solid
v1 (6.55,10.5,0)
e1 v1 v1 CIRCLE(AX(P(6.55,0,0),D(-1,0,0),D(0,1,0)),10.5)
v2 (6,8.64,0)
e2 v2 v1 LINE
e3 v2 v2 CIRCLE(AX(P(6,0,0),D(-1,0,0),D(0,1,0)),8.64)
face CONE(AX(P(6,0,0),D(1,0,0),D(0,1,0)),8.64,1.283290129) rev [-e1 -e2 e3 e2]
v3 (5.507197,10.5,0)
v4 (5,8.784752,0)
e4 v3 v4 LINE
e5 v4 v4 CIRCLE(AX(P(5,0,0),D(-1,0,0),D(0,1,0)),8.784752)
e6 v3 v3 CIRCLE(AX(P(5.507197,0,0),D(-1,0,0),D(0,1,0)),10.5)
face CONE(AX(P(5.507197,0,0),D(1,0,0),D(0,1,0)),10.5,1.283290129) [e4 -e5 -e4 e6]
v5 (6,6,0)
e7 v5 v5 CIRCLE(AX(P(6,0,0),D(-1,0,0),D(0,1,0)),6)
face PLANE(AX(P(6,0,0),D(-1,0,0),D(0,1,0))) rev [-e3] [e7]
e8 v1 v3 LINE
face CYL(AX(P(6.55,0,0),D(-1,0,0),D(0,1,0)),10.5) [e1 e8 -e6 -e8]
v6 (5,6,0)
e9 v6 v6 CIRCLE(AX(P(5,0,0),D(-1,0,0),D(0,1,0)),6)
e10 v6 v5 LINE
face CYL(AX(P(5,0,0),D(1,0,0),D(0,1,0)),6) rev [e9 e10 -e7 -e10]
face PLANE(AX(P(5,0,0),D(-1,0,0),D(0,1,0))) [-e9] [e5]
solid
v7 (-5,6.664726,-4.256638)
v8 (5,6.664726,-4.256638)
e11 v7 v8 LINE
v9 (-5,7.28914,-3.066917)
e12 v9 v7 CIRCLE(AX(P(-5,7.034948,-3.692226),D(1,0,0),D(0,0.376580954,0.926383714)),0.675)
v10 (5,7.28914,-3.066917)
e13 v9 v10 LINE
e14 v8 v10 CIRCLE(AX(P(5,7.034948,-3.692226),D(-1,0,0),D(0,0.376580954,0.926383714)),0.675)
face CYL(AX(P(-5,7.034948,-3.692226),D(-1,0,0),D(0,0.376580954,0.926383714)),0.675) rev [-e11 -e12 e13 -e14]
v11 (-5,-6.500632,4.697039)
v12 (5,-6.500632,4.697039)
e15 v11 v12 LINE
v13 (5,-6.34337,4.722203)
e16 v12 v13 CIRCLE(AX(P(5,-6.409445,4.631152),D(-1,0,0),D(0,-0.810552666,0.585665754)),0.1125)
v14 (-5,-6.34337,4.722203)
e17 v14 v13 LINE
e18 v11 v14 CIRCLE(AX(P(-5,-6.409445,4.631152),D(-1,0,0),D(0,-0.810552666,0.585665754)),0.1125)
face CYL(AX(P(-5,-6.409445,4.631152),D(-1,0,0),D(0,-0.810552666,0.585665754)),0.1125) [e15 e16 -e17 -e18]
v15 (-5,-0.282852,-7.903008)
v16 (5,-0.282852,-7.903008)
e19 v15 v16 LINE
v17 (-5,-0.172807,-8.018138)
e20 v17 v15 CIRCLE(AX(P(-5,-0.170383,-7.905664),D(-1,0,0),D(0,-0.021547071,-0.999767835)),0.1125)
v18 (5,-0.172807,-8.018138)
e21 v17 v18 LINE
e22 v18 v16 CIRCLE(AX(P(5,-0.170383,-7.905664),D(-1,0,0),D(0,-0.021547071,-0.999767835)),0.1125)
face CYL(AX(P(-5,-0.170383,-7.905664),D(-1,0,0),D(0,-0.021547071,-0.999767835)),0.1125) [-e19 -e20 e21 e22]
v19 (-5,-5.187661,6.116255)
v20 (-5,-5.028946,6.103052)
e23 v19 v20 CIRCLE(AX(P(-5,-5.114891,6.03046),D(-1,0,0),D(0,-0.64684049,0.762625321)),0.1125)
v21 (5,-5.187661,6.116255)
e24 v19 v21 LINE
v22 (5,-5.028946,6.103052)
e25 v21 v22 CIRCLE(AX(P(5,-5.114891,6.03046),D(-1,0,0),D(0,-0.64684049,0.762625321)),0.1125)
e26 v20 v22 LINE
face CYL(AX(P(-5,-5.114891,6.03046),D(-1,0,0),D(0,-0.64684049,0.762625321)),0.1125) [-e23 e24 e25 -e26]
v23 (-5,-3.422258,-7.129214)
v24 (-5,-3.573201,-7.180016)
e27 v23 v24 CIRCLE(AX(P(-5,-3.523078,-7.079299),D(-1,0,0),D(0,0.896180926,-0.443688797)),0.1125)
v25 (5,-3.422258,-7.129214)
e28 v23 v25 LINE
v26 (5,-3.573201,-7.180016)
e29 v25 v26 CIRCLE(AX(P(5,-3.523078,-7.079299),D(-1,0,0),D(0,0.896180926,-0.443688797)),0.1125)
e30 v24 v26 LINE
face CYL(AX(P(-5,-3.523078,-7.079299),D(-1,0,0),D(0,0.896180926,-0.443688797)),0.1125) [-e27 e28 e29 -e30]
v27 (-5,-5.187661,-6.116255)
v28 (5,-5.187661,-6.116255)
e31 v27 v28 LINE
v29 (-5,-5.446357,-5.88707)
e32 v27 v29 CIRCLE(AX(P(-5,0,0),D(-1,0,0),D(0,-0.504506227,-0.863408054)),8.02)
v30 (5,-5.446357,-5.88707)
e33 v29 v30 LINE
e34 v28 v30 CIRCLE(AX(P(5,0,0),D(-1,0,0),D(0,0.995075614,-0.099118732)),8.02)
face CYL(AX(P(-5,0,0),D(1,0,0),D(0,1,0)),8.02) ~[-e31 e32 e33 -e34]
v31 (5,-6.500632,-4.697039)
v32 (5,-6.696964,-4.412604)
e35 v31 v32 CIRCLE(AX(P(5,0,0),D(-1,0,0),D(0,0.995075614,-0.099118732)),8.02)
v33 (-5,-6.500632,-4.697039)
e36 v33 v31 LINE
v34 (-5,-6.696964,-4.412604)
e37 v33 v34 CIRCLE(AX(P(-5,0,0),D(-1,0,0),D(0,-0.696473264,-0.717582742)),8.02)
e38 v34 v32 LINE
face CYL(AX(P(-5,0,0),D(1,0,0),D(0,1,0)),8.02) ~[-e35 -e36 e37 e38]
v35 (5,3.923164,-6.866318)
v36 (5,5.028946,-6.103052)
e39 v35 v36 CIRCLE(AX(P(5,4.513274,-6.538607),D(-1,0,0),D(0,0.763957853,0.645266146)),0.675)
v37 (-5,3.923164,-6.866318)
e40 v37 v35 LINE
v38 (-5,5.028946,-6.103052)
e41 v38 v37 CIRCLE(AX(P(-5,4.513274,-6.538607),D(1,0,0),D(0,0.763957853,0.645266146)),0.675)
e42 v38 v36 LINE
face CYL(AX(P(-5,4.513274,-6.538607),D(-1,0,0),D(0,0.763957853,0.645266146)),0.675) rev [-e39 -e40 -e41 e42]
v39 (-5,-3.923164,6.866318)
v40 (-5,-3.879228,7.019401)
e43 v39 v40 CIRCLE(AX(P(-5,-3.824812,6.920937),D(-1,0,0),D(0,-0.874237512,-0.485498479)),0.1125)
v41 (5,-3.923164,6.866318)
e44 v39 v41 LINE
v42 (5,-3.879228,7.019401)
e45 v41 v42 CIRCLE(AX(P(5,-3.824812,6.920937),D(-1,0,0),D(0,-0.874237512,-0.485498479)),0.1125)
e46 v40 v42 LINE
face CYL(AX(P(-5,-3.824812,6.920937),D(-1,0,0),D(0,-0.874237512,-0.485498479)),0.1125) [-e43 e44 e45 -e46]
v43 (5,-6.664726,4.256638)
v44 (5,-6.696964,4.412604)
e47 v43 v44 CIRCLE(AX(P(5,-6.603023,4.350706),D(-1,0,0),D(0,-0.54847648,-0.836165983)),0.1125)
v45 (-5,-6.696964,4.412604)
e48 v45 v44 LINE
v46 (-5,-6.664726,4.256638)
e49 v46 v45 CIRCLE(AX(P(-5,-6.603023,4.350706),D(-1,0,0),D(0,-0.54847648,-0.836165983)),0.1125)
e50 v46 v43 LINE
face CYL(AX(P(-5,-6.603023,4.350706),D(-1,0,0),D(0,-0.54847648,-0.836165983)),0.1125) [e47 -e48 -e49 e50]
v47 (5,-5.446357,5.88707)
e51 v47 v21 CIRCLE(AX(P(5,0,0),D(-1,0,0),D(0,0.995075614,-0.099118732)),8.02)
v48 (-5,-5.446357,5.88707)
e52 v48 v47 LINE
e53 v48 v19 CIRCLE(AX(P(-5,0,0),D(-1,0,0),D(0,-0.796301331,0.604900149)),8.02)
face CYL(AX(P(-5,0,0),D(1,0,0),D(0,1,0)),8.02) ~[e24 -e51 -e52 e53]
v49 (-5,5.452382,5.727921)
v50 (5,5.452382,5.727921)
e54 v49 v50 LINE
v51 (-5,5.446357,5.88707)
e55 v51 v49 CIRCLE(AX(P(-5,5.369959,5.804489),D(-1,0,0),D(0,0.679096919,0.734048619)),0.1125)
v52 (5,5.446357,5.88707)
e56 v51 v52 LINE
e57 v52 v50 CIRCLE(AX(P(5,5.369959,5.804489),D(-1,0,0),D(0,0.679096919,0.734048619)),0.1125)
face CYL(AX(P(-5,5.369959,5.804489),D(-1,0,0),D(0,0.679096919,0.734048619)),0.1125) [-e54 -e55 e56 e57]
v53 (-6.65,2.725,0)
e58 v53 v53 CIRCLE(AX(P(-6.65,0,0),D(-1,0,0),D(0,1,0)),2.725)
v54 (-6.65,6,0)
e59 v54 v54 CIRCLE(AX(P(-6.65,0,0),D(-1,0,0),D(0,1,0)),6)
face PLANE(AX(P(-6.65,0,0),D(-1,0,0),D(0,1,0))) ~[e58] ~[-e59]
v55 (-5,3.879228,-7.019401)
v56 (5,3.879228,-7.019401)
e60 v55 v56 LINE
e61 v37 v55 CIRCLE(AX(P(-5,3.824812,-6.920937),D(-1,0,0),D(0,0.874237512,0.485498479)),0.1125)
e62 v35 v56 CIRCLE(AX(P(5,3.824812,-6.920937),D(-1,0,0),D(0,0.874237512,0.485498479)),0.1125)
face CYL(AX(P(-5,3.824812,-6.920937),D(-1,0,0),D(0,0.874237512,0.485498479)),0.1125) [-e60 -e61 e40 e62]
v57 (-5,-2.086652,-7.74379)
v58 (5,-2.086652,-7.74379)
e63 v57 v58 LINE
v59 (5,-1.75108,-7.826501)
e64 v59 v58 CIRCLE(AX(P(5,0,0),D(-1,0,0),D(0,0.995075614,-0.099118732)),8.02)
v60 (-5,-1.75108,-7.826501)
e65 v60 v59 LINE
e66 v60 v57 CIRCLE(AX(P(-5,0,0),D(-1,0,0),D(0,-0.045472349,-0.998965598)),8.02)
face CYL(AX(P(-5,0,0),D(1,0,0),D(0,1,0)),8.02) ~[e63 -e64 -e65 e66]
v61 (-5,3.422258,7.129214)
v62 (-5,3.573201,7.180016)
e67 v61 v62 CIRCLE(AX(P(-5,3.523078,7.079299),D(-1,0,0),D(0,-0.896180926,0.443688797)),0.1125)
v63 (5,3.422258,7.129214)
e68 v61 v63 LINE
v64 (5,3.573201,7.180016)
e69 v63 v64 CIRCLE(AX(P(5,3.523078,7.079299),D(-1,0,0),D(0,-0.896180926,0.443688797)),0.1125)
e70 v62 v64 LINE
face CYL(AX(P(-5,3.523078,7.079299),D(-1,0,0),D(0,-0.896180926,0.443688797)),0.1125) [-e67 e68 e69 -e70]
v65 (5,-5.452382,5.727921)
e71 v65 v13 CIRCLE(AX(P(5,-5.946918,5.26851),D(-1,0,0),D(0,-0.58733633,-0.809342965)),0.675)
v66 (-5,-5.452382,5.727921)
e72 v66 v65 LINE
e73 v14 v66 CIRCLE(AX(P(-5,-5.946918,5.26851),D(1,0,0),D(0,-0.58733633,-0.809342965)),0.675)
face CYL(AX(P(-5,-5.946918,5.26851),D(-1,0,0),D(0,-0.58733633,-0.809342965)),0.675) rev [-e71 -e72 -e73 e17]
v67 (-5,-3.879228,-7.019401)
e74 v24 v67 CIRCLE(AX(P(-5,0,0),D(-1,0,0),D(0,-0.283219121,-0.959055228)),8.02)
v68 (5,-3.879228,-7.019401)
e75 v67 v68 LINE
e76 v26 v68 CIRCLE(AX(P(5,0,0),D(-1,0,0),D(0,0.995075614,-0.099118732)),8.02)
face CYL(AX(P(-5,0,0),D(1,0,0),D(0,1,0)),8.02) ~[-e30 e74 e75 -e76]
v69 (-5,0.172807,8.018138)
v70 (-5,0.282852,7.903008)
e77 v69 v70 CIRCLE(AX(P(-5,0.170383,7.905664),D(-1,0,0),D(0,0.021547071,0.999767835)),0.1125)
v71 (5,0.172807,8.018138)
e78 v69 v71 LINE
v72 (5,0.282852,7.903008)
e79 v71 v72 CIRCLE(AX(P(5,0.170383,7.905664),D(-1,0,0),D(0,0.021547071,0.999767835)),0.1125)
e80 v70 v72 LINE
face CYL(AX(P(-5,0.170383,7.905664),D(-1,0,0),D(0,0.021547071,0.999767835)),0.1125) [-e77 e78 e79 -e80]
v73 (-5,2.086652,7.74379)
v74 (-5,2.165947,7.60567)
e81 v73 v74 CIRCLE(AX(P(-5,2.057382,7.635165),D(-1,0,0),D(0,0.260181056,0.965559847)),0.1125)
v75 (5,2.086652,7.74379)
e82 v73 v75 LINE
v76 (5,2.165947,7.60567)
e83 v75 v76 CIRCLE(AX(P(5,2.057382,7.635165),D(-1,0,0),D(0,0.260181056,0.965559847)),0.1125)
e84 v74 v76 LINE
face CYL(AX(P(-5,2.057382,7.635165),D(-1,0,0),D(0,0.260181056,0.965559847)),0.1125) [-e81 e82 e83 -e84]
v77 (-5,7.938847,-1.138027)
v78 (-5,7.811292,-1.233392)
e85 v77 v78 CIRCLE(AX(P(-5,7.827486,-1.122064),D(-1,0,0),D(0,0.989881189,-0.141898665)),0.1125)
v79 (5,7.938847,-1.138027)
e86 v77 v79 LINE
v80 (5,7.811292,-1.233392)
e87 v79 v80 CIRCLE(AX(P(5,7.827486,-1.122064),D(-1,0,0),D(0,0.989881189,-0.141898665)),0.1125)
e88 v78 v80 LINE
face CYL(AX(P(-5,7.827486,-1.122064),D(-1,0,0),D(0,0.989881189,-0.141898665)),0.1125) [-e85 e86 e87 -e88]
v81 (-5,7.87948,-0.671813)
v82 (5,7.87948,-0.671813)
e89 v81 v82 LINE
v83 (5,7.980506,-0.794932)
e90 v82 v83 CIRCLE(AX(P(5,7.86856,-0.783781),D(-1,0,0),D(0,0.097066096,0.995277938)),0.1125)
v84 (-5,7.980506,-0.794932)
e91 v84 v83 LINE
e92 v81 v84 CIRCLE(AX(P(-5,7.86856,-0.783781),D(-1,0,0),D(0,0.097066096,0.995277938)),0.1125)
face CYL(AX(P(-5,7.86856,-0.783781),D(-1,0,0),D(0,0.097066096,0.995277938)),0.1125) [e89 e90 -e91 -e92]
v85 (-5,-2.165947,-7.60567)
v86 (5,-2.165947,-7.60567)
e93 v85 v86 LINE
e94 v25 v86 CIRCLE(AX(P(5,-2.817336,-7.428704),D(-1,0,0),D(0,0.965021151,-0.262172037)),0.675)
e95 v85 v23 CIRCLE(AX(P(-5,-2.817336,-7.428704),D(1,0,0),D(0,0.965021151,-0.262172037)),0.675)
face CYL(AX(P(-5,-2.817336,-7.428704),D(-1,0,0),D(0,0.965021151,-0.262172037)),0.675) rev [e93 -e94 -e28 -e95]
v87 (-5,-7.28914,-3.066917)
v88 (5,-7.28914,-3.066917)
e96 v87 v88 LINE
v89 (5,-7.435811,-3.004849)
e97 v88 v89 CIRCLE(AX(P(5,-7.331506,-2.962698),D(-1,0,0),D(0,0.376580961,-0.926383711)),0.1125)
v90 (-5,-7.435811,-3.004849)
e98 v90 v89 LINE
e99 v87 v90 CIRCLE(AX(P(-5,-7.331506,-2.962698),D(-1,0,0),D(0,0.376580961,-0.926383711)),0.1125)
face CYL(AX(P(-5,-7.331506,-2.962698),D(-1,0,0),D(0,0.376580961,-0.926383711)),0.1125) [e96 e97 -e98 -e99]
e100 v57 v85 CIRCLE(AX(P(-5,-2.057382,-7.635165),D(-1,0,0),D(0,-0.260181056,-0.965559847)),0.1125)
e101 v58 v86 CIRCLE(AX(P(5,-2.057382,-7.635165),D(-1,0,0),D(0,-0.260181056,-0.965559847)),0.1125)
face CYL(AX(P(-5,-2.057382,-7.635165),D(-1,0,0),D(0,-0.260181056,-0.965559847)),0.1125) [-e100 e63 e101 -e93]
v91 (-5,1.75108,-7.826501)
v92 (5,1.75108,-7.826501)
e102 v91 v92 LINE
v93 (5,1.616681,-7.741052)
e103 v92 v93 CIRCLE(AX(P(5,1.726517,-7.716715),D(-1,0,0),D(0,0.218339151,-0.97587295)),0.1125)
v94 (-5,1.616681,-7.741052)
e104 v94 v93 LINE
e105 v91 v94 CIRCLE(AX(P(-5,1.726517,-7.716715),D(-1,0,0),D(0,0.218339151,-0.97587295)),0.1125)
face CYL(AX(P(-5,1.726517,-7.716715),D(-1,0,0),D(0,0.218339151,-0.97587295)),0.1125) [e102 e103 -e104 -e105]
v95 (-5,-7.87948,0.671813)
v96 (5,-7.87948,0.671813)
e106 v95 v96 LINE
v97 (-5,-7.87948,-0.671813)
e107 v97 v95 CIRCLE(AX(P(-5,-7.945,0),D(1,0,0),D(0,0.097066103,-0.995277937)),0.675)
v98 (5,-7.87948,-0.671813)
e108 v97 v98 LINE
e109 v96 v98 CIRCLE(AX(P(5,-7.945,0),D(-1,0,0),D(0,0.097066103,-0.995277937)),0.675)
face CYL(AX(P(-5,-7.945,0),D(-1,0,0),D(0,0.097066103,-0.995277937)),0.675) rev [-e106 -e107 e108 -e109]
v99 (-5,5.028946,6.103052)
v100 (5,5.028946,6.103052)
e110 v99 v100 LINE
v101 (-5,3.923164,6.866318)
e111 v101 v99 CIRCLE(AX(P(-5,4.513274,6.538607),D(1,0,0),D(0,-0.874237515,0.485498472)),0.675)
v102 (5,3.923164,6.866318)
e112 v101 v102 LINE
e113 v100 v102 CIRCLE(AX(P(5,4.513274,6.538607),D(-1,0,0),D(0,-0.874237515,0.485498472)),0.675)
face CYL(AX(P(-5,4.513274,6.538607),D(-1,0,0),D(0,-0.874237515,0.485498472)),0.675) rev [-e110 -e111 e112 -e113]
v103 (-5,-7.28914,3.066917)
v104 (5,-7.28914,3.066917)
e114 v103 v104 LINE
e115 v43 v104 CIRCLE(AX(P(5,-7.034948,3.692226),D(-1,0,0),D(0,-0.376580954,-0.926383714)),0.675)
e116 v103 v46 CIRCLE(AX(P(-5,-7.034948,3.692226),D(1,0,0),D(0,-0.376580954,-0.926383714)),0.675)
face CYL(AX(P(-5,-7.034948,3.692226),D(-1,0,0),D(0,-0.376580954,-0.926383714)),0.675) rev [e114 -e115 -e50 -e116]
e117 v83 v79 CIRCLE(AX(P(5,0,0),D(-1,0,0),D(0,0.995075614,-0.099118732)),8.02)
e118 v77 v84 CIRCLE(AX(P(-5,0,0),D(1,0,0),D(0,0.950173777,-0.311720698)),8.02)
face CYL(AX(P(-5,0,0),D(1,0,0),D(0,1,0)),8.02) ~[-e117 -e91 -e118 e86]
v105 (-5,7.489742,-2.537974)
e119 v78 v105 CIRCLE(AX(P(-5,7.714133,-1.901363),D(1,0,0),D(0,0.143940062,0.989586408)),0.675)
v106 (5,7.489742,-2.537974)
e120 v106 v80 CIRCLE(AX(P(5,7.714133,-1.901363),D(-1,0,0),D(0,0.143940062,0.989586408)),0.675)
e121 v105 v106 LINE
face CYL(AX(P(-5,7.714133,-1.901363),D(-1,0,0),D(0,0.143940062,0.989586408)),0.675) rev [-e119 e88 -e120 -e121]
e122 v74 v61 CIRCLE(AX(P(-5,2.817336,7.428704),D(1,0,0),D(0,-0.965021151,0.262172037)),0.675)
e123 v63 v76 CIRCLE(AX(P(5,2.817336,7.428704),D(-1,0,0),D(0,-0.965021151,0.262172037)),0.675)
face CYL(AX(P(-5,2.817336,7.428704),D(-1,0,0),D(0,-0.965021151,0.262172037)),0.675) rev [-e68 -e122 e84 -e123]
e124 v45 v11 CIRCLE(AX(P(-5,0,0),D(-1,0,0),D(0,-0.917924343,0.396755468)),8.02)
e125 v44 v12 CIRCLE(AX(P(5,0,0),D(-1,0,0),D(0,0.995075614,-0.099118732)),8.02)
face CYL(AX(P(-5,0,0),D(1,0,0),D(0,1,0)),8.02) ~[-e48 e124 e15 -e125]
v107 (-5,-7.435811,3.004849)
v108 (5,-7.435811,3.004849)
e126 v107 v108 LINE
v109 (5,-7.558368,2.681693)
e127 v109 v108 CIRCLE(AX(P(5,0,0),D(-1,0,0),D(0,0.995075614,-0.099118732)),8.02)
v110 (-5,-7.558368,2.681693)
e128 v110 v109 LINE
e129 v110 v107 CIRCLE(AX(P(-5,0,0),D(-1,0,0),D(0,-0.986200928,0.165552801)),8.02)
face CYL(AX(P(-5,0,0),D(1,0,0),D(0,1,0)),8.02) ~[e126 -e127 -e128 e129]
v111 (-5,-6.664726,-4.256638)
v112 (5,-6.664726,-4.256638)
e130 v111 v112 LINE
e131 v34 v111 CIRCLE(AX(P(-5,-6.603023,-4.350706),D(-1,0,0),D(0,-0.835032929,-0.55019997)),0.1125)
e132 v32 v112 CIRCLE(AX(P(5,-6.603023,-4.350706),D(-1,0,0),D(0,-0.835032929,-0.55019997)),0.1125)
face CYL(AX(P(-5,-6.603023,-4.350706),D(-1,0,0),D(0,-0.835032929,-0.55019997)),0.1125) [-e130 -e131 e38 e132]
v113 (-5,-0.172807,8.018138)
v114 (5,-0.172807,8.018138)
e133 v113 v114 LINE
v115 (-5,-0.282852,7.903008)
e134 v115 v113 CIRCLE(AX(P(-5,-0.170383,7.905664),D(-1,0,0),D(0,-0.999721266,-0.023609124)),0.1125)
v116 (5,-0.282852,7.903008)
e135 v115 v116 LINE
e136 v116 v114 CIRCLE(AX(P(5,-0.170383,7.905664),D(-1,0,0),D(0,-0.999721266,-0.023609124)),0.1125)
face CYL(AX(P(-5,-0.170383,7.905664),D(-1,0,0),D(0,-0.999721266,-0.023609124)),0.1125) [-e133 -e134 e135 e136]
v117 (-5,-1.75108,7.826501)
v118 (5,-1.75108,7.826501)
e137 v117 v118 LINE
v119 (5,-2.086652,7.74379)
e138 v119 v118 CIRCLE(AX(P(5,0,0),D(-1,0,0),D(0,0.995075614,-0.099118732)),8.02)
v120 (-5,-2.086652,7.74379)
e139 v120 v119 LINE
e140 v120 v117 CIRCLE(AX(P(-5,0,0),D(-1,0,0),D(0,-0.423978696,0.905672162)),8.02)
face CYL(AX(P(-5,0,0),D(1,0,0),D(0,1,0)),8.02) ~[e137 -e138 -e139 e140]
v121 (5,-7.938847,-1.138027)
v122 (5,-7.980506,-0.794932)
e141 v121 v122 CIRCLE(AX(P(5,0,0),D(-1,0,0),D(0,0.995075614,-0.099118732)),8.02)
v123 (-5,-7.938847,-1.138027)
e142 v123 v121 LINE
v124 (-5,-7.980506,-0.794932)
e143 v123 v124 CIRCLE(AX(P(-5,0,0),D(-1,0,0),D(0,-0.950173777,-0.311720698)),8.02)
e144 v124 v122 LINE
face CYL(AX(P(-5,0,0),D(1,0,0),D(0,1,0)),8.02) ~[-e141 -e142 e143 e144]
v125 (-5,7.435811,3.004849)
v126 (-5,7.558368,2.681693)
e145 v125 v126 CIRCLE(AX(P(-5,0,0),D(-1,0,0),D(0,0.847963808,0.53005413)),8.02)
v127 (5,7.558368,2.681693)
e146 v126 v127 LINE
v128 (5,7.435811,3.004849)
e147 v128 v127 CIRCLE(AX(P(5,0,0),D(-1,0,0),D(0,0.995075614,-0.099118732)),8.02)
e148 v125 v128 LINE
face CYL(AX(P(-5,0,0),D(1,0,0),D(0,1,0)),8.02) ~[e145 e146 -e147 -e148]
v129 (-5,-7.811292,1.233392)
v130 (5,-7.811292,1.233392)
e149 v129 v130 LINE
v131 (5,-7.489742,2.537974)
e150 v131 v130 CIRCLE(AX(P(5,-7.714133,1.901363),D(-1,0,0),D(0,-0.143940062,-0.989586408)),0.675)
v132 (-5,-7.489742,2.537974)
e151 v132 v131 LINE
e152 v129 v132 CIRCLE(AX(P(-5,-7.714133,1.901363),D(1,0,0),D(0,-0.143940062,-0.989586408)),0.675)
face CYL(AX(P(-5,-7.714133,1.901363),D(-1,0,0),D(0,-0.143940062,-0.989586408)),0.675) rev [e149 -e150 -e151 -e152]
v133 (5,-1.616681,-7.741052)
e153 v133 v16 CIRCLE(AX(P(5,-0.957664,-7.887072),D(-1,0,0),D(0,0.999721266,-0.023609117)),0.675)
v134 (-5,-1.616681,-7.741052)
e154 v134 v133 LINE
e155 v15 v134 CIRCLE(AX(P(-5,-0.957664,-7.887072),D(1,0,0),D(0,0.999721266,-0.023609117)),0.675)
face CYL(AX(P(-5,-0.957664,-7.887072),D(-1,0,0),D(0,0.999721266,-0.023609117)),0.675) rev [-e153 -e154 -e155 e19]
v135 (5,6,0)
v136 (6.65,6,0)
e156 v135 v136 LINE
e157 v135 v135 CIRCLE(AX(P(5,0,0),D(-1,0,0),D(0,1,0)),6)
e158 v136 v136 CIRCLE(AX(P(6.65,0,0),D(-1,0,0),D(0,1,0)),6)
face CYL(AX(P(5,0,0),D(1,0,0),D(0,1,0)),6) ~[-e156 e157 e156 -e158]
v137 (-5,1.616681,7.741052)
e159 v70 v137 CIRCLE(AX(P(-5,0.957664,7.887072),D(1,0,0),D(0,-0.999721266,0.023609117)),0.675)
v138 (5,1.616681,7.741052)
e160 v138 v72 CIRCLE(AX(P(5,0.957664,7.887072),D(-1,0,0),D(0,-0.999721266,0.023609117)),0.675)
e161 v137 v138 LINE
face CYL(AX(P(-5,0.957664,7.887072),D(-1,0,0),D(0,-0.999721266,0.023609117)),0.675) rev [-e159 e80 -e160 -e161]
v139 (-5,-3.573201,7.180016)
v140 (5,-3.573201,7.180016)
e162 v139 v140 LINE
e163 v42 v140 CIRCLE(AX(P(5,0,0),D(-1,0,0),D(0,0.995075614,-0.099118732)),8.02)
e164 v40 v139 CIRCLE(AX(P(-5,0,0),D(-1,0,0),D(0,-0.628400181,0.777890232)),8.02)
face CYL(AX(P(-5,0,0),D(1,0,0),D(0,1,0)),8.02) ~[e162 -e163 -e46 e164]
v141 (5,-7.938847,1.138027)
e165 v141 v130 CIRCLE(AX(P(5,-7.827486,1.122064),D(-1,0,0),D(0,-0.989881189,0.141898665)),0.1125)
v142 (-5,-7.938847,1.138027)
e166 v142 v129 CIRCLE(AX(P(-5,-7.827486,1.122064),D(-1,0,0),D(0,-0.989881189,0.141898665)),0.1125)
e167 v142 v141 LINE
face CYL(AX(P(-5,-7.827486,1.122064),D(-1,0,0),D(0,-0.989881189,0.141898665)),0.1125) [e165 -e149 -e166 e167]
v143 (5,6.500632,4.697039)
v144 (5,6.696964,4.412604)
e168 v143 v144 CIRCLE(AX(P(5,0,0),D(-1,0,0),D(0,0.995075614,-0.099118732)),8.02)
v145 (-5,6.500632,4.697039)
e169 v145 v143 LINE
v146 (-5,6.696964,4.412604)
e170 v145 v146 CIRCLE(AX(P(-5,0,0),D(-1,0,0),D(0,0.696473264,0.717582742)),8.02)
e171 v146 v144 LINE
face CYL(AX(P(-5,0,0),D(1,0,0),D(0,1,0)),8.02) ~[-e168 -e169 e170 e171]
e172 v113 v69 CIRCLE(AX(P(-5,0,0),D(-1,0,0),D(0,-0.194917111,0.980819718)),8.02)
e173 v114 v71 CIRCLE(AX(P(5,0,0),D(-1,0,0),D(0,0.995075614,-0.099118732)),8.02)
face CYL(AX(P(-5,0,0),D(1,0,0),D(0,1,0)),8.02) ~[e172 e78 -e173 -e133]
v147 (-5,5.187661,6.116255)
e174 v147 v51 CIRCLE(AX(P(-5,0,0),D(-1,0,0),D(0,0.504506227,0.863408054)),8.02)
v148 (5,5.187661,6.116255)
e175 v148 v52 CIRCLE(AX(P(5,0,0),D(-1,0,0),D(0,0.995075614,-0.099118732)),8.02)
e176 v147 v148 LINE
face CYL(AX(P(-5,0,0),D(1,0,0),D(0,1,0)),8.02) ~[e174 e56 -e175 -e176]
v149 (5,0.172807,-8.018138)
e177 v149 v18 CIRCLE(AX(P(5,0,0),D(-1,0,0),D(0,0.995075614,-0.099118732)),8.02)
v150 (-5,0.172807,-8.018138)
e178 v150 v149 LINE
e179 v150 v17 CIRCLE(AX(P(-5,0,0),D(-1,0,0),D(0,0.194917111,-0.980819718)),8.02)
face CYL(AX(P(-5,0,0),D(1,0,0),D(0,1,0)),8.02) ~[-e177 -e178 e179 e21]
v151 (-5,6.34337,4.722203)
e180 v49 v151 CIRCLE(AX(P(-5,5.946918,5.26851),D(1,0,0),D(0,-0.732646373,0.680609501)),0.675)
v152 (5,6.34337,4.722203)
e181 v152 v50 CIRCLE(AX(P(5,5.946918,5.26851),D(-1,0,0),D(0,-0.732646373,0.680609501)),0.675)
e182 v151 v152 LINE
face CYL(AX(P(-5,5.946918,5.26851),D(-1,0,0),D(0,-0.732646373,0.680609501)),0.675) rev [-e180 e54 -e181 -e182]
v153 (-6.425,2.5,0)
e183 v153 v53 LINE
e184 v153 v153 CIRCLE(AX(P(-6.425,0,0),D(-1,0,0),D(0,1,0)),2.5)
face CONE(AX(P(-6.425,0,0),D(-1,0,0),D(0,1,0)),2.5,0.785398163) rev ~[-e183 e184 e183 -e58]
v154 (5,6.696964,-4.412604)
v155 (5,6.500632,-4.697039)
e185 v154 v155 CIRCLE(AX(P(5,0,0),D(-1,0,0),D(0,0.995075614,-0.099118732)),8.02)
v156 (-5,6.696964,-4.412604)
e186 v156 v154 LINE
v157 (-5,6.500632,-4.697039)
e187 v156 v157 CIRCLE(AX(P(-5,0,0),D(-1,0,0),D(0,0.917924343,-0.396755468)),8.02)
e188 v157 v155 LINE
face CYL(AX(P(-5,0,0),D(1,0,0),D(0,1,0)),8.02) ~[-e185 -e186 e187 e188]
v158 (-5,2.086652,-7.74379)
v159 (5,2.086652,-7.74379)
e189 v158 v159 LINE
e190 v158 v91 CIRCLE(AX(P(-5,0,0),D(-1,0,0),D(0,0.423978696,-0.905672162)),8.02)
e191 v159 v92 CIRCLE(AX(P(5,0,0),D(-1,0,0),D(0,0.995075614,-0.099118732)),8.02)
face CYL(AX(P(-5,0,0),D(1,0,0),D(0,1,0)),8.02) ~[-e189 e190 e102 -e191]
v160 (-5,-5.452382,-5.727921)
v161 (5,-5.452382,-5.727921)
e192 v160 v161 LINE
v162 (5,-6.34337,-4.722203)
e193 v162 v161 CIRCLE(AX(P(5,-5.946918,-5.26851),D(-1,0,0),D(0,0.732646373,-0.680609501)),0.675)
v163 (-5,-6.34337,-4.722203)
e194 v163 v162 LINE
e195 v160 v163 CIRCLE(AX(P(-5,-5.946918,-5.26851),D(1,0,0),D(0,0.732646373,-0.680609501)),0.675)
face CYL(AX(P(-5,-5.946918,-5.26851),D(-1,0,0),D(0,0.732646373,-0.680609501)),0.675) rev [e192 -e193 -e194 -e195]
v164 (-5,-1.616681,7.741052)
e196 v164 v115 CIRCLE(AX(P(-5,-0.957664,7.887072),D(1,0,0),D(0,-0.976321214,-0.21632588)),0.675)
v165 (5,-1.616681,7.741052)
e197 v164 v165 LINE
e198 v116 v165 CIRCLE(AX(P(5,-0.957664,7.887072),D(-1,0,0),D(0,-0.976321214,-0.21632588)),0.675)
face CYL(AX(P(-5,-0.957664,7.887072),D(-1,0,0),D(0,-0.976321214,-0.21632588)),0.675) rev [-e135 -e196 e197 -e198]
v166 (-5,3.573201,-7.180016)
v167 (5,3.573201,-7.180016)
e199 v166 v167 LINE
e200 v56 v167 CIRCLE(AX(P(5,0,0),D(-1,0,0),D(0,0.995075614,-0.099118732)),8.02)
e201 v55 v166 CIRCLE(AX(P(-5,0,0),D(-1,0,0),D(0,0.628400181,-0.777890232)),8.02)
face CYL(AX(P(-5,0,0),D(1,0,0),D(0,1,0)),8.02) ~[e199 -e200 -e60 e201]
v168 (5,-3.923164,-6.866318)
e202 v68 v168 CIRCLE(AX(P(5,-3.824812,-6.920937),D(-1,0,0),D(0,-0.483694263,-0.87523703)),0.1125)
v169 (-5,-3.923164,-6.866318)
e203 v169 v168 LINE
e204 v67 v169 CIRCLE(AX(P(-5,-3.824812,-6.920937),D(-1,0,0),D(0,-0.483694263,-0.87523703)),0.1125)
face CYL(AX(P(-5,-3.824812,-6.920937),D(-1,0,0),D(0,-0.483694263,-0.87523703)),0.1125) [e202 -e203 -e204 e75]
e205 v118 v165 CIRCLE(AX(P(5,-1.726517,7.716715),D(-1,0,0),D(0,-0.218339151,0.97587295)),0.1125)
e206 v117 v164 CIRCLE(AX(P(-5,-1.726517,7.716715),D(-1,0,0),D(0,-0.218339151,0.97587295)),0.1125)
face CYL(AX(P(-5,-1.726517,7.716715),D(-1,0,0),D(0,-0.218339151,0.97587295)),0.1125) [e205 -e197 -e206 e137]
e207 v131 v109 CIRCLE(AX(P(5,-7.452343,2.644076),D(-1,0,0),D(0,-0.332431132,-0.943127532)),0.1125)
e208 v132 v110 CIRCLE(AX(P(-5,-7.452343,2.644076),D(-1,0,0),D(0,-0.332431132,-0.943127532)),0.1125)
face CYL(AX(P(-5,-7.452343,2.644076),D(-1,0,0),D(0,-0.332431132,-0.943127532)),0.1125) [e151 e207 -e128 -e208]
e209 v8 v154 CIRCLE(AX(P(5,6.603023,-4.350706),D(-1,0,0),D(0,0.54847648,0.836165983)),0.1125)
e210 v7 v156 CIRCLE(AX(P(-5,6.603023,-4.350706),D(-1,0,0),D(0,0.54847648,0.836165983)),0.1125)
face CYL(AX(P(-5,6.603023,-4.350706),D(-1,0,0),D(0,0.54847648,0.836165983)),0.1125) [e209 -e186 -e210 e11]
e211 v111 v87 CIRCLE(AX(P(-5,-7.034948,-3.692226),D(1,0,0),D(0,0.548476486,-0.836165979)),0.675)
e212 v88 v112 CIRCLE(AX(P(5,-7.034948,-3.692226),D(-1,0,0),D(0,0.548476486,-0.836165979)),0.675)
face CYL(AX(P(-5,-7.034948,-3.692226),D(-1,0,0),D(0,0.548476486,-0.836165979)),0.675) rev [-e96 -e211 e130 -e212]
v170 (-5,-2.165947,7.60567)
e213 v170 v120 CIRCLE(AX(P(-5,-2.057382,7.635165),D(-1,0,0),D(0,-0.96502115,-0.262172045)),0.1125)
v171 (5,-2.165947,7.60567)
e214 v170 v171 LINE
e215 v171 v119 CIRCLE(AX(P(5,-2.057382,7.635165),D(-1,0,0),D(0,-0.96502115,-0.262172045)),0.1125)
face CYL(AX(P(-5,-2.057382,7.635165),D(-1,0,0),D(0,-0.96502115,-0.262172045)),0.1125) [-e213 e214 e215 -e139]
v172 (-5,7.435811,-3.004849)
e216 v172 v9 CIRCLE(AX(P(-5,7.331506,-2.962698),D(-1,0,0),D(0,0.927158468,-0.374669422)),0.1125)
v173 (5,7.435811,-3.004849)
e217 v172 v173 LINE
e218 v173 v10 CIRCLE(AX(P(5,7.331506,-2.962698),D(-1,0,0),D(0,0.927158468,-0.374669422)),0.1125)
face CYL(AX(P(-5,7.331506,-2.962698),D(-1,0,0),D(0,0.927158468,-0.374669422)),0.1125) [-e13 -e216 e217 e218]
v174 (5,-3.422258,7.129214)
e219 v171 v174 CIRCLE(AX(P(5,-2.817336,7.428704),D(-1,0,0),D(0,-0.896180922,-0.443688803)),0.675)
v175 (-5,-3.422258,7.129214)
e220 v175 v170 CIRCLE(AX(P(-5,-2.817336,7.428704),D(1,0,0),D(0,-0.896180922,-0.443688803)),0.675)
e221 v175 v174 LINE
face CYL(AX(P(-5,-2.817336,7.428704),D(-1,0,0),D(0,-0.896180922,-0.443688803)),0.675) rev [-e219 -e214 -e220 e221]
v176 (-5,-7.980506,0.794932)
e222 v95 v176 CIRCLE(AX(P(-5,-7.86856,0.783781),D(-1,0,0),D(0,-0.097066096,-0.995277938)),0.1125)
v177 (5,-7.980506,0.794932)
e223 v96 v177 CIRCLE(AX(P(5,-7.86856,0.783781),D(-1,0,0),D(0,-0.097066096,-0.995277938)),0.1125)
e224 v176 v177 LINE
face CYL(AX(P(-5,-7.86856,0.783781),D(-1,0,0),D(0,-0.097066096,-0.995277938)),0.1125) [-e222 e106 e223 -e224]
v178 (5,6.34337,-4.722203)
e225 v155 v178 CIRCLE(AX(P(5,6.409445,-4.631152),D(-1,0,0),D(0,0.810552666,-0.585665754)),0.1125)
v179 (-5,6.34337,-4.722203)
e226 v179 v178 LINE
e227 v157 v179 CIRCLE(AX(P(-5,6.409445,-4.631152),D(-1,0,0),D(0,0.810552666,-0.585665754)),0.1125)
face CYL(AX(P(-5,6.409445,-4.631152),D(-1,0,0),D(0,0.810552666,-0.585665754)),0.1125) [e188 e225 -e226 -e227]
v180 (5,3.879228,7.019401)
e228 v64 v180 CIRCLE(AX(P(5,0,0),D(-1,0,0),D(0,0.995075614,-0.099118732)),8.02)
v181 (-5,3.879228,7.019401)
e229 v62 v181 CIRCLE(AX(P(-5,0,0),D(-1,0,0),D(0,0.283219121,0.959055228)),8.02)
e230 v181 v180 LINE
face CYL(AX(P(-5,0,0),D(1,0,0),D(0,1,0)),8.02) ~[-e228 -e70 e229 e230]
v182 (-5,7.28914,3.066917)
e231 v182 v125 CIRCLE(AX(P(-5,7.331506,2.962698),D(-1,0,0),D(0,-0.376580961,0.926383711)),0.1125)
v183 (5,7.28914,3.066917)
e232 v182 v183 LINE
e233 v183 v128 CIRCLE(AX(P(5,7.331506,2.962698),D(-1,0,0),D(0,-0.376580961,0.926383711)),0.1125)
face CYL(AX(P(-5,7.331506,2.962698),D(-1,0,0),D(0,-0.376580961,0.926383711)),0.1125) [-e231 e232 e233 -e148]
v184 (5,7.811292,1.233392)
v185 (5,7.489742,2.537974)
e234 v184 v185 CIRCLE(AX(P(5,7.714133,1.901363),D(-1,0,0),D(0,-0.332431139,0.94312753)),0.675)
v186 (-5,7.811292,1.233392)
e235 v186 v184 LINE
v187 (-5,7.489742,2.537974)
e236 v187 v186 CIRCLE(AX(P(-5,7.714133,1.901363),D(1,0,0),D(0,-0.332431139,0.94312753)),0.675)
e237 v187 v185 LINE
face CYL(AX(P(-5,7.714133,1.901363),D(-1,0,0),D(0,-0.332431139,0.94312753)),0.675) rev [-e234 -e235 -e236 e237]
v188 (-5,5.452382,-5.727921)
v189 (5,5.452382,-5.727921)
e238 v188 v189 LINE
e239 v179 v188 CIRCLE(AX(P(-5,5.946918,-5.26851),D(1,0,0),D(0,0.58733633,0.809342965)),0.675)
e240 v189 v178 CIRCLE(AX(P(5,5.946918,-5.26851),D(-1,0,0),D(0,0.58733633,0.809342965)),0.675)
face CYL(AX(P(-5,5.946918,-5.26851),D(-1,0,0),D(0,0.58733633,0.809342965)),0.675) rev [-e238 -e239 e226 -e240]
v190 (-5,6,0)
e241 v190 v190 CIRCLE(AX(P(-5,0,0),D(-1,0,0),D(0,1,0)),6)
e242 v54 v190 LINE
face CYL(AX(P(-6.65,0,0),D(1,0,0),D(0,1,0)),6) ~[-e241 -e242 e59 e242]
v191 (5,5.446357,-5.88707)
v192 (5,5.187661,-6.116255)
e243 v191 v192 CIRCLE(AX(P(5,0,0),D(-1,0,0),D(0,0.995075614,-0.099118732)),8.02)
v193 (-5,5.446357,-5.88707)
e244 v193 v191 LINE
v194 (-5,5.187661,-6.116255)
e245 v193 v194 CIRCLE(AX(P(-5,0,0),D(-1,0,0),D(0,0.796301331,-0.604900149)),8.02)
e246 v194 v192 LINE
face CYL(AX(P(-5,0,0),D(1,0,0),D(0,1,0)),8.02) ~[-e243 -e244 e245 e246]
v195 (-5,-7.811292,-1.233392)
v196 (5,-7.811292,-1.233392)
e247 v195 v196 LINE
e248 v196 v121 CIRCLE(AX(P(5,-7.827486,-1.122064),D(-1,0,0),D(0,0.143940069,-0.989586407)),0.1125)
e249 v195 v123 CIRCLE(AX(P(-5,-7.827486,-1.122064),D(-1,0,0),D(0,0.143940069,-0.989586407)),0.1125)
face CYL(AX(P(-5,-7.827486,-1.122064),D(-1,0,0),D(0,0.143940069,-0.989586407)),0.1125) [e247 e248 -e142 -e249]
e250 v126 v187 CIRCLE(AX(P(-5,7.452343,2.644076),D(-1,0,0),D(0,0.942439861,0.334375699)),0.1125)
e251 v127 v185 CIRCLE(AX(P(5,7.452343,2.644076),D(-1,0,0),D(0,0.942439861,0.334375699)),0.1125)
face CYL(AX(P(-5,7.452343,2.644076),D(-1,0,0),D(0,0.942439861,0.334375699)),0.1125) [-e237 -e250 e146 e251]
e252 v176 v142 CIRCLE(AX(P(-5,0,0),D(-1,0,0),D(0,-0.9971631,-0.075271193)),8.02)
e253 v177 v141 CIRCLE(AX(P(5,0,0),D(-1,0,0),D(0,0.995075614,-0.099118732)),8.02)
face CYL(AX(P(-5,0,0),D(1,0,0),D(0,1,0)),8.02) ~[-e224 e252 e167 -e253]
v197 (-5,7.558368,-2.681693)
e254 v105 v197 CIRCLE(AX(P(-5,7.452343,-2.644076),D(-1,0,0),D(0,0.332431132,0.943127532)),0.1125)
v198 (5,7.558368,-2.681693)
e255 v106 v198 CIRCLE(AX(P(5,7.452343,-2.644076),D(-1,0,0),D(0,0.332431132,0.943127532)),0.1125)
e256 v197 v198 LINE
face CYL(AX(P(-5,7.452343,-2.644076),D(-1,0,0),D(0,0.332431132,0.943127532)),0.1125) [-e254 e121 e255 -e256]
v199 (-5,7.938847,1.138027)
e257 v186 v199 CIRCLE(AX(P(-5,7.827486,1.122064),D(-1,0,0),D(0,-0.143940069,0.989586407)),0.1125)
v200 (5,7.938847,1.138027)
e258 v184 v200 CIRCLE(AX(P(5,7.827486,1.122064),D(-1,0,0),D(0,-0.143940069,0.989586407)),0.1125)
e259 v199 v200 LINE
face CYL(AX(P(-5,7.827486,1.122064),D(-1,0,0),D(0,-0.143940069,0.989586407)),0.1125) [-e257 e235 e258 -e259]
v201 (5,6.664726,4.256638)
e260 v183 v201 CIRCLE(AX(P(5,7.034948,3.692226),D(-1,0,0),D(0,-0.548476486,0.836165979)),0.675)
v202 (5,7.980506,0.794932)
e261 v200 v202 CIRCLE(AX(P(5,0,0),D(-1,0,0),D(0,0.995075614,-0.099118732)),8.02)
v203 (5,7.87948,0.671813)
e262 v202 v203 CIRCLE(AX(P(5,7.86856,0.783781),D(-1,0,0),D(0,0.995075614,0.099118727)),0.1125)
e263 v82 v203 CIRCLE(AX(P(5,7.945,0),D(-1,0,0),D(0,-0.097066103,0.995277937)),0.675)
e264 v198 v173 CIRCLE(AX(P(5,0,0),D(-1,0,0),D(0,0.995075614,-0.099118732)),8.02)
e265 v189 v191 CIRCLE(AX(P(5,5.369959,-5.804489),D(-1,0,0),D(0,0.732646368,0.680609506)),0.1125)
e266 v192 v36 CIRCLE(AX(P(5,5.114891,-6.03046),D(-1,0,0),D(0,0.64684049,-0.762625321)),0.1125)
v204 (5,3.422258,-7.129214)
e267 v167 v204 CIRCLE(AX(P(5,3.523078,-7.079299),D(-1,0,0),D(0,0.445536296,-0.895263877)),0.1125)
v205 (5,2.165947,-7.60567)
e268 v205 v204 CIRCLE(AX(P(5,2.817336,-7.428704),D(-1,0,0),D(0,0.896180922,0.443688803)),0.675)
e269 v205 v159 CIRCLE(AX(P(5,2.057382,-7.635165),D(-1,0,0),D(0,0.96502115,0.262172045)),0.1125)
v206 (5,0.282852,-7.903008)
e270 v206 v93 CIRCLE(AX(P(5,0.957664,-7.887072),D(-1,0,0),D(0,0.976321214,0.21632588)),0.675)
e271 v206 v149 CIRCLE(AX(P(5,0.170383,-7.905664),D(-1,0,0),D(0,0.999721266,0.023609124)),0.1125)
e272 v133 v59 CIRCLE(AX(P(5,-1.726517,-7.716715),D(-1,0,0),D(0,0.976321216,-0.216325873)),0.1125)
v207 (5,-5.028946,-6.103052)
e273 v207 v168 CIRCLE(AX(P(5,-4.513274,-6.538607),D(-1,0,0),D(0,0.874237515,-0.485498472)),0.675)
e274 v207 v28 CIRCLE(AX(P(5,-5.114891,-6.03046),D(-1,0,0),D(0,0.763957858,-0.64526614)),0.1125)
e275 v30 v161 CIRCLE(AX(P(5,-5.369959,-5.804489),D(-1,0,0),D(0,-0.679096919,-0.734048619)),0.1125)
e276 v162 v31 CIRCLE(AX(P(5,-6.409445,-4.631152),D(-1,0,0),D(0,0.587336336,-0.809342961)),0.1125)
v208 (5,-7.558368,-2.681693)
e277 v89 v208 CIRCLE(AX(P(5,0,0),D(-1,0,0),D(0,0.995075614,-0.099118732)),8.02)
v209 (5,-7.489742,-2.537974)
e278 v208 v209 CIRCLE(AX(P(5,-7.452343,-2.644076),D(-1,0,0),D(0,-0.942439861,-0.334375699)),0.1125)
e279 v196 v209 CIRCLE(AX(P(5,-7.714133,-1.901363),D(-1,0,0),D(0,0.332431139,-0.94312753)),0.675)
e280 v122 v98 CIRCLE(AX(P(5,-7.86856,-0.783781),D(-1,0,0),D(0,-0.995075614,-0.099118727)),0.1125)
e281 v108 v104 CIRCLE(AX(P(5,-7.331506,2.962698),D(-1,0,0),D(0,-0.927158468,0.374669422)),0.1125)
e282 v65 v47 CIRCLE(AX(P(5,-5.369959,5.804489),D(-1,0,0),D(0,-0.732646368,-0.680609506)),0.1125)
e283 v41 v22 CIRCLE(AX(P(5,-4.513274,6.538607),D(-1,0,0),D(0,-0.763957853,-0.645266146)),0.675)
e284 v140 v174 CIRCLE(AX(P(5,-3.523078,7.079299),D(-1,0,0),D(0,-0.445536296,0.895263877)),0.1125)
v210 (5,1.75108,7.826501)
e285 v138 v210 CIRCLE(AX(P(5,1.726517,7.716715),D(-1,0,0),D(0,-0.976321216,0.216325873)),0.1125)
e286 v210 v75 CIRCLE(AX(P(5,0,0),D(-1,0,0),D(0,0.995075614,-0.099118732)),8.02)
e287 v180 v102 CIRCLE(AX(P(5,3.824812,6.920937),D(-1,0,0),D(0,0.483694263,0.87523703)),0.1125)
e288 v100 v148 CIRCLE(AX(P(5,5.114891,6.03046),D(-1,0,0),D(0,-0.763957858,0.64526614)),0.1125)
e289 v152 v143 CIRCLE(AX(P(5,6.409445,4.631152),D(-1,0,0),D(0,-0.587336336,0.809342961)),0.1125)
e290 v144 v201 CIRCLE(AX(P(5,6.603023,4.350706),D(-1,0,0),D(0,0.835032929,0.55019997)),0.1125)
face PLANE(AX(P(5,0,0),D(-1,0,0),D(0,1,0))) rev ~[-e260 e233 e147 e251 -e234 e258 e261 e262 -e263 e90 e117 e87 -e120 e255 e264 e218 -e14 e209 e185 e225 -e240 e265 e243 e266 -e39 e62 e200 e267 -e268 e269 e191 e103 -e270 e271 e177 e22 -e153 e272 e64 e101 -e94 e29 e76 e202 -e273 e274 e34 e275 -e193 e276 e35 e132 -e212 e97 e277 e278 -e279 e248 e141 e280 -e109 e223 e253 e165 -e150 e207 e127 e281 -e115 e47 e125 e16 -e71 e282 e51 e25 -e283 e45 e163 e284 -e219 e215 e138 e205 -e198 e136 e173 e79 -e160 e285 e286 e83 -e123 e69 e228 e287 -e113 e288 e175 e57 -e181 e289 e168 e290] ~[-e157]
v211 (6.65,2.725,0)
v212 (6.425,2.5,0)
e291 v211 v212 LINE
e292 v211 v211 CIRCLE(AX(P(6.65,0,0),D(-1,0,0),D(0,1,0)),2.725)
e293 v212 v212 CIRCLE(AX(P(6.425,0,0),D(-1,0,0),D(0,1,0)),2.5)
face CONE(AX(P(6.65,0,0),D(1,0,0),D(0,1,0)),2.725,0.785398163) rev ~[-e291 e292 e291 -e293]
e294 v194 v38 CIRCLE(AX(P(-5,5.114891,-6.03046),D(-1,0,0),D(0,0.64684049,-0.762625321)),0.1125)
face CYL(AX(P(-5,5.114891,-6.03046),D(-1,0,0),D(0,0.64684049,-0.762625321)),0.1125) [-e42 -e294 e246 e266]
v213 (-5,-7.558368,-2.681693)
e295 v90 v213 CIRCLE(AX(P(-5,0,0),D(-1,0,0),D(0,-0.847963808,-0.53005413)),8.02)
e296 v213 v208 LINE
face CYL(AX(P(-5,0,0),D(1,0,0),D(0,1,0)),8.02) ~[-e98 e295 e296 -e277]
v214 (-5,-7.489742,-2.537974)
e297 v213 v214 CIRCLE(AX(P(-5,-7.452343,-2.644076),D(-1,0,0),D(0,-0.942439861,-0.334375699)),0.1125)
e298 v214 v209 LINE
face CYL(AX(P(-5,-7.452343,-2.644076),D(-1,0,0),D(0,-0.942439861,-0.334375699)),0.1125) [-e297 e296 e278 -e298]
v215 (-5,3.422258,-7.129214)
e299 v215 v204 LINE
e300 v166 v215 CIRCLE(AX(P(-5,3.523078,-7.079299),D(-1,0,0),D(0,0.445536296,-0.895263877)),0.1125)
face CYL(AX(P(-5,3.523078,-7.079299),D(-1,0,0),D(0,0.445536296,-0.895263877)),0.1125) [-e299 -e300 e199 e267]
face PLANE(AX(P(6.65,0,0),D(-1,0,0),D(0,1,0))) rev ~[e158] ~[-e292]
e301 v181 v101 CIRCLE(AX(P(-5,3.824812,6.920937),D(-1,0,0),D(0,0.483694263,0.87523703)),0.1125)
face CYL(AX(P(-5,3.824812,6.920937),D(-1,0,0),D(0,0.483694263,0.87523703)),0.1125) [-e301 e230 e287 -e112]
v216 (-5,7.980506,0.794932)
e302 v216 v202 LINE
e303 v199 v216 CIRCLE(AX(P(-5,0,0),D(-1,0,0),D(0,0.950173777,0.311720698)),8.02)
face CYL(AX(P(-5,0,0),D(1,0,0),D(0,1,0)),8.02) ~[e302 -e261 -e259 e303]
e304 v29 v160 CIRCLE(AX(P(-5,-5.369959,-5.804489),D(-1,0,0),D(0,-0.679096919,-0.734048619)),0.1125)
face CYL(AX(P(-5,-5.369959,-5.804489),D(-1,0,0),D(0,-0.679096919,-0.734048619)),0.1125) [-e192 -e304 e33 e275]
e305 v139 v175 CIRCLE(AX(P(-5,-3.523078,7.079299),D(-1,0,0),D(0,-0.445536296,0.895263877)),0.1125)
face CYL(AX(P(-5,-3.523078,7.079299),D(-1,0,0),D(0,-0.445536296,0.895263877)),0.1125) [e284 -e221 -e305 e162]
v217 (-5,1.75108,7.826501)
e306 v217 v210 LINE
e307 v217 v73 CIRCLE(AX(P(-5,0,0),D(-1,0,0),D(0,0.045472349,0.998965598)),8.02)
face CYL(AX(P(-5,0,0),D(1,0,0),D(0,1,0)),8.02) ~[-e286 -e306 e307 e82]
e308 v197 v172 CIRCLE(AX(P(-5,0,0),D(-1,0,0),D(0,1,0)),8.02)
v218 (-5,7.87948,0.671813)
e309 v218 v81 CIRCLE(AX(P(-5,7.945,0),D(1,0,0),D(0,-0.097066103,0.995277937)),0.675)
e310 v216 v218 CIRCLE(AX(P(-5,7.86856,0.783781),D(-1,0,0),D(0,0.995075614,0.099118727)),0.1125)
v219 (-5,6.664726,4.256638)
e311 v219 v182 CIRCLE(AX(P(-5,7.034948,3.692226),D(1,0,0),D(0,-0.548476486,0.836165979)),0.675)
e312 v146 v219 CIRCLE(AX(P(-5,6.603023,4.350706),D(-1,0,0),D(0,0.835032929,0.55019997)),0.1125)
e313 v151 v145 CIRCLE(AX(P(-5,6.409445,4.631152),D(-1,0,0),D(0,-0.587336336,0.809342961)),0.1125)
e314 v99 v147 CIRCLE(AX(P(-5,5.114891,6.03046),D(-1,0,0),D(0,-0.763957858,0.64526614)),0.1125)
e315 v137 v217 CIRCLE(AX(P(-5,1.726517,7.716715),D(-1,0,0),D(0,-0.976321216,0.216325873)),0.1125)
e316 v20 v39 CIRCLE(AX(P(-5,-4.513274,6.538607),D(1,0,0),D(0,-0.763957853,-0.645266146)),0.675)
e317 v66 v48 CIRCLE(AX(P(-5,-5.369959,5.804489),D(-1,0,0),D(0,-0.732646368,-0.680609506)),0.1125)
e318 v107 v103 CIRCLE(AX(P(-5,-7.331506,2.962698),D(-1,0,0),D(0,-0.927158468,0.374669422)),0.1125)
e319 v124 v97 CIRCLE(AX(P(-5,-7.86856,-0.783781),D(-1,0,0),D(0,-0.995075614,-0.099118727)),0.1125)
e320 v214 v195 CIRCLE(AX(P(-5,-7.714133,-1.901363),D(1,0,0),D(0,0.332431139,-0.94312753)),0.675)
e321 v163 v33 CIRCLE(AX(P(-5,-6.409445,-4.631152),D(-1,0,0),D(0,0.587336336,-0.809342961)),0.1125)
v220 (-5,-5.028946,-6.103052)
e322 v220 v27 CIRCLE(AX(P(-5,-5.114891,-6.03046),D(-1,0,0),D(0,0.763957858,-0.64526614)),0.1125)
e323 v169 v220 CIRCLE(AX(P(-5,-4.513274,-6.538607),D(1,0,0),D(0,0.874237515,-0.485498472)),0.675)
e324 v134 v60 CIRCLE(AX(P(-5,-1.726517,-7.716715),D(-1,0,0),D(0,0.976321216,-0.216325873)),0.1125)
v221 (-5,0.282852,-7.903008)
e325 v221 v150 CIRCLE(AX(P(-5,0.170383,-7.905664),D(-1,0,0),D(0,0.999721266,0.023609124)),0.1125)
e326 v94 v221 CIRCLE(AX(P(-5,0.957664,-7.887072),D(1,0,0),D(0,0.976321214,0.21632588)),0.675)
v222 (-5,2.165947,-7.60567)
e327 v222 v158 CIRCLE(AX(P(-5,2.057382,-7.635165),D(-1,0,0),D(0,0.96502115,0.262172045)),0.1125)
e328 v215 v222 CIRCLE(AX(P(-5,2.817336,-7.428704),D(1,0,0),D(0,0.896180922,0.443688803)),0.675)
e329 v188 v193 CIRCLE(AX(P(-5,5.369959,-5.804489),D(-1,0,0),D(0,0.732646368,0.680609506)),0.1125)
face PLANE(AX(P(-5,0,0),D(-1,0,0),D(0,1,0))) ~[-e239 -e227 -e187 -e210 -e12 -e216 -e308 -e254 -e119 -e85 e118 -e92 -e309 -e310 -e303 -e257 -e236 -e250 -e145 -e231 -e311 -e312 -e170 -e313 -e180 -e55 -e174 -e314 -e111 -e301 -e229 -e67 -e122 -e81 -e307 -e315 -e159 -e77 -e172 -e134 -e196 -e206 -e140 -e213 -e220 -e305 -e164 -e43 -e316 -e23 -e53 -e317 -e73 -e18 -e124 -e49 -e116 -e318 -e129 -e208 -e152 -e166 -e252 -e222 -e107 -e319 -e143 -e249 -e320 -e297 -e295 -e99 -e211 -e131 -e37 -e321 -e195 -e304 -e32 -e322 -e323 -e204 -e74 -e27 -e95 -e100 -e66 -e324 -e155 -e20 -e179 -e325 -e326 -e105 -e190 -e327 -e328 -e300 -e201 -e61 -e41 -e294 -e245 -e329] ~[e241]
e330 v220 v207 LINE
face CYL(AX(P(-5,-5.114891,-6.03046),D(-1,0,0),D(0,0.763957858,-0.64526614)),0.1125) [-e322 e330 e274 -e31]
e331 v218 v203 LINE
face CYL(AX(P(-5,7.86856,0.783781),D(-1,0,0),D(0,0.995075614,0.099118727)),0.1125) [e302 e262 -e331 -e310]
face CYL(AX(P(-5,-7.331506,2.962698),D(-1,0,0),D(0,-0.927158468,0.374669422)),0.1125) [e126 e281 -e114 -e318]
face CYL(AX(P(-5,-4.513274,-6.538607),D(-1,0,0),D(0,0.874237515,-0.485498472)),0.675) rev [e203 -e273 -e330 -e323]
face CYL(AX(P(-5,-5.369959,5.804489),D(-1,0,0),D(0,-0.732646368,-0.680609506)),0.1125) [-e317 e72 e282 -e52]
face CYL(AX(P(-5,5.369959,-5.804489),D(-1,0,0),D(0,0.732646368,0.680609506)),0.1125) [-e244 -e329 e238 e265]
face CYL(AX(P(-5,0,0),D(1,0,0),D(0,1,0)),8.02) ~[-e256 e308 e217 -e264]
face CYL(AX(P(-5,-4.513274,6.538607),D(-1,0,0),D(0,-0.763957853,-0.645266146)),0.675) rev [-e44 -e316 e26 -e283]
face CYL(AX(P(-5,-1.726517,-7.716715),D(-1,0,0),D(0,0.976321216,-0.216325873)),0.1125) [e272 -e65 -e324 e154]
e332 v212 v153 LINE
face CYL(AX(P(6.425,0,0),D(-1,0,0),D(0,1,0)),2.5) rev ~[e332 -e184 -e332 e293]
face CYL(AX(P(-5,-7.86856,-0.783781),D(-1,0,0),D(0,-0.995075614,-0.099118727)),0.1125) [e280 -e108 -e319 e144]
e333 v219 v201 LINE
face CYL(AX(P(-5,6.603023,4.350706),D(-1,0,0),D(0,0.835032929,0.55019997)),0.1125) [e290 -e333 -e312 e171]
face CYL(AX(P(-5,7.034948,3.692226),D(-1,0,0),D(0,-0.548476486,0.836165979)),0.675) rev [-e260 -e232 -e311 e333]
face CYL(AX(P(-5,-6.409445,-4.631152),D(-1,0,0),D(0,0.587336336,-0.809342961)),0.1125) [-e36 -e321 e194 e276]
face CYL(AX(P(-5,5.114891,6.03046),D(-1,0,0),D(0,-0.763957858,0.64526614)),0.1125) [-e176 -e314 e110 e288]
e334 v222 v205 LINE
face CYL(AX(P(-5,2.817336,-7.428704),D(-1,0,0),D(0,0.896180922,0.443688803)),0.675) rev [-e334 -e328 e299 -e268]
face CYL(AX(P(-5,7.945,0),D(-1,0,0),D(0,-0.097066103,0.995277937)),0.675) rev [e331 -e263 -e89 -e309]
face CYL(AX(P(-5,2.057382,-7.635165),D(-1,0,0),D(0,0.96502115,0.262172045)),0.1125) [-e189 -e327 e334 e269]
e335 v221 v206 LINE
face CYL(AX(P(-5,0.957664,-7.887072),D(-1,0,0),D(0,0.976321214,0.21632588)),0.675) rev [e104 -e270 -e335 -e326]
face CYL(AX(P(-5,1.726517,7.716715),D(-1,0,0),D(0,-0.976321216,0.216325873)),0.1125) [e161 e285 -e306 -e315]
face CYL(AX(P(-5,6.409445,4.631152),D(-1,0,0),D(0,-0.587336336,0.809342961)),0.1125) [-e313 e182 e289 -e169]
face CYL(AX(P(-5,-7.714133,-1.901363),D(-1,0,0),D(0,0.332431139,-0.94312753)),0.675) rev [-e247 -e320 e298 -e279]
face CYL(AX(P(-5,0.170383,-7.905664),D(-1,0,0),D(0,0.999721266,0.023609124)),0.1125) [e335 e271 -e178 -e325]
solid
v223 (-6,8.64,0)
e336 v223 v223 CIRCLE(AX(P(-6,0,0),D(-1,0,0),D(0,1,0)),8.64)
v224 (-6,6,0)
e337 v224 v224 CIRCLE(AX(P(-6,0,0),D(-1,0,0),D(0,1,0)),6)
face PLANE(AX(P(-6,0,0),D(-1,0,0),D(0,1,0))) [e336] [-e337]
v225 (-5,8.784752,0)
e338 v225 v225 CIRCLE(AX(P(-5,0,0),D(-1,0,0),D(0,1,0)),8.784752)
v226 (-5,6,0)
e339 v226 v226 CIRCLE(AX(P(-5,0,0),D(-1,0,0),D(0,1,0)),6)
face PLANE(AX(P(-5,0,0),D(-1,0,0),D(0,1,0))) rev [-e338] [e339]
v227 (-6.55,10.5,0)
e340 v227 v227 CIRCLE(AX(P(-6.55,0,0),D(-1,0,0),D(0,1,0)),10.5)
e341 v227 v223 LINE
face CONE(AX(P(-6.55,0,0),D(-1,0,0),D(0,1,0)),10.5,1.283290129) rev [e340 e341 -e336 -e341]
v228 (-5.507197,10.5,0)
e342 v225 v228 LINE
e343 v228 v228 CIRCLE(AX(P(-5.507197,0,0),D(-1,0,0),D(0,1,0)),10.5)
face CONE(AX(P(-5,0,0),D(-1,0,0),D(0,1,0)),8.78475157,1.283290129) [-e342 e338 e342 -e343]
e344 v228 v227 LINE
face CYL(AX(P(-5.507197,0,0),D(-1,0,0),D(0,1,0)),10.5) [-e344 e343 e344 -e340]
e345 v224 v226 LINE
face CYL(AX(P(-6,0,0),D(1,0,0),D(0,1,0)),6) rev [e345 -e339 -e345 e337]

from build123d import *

# Parameters (mm, degrees)
CUT_EXTRUDE1_DEPTH = 33.733366768
CIRPATTERN1_COUNT  = 26


with BuildPart() as part:
    # Sketch1 → Revolve1 (revolve)
    with BuildSketch(Plane.XY):
        Polygon((-6, 6), (-6.65, 6), (-6.65, 2.725), (-6.425, 2.5), (6.425, 2.5), (6.65, 2.725), (6.65, 6), (6, 6), (5, 6), (5, 8.02), (-5, 8.02), (-5, 6), align=None)
    revolve(axis=Axis((17.85, 0, 0), (-1, 0, 0)))

    # Sketch5 → Cut-Extrude1 (cut, through all)
    with BuildSketch(Plane(origin=(-5, 0, -21.5), x_dir=(0, 0, 1), z_dir=(-1, 0, 0))):
        with BuildLine():
            Line((19, 7.620393691), (19, 7.888322065))
            ThreePointArc((19, 7.888322065), (21.5, 8.275), (24, 7.888322065))
            Line((24, 7.888322065), (24, 7.620393691))
            ThreePointArc((24, 7.620393691), (23.15727635, 7.846899713), (22.294932233, 7.980506422))
            ThreePointArc((22.294932233, 7.980506422), (22.212418714, 7.955529493), (22.171812608, 7.879480351))
            ThreePointArc((22.171812608, 7.879480351), (21.5, 7.26999997), (20.828187392, 7.879480351))
            ThreePointArc((20.828187392, 7.879480351), (20.787581286, 7.955529493), (20.705067767, 7.980506422))
            ThreePointArc((20.705067767, 7.980506422), (19.84272365, 7.846899713), (19, 7.620393691))
        make_face()
    cut_extrude1 = extrude(amount=-CUT_EXTRUDE1_DEPTH, mode=Mode.SUBTRACT)

    # CirPattern1: Cut-Extrude1 ×26 about axis
    cirpattern1_axis = Axis((17.85, 0, 0), (1, 0, 0))
    for i in range(1, CIRPATTERN1_COUNT):
        add(cut_extrude1.rotate(cirpattern1_axis, i * 360 / CIRPATTERN1_COUNT), mode=Mode.SUBTRACT)


with BuildPart() as body_2:
    # Sketch1<4> → Revolve2 (revolve)
    with BuildSketch(Plane.XY):
        Polygon((-6, 8.64), (-6, 6), (-5, 6), (-5, 8.78475157), (-5.507197116, 10.5), (-6.55, 10.5), align=None)
        Polygon((5, 8.78475157), (5, 6), (6, 6), (6, 8.64), (6.55, 10.5), (5.507197116, 10.5), align=None)
    revolve(axis=Axis((17.85, 0, 0), (-1, 0, 0)))


solid = Compound([part.part, body_2.part])
